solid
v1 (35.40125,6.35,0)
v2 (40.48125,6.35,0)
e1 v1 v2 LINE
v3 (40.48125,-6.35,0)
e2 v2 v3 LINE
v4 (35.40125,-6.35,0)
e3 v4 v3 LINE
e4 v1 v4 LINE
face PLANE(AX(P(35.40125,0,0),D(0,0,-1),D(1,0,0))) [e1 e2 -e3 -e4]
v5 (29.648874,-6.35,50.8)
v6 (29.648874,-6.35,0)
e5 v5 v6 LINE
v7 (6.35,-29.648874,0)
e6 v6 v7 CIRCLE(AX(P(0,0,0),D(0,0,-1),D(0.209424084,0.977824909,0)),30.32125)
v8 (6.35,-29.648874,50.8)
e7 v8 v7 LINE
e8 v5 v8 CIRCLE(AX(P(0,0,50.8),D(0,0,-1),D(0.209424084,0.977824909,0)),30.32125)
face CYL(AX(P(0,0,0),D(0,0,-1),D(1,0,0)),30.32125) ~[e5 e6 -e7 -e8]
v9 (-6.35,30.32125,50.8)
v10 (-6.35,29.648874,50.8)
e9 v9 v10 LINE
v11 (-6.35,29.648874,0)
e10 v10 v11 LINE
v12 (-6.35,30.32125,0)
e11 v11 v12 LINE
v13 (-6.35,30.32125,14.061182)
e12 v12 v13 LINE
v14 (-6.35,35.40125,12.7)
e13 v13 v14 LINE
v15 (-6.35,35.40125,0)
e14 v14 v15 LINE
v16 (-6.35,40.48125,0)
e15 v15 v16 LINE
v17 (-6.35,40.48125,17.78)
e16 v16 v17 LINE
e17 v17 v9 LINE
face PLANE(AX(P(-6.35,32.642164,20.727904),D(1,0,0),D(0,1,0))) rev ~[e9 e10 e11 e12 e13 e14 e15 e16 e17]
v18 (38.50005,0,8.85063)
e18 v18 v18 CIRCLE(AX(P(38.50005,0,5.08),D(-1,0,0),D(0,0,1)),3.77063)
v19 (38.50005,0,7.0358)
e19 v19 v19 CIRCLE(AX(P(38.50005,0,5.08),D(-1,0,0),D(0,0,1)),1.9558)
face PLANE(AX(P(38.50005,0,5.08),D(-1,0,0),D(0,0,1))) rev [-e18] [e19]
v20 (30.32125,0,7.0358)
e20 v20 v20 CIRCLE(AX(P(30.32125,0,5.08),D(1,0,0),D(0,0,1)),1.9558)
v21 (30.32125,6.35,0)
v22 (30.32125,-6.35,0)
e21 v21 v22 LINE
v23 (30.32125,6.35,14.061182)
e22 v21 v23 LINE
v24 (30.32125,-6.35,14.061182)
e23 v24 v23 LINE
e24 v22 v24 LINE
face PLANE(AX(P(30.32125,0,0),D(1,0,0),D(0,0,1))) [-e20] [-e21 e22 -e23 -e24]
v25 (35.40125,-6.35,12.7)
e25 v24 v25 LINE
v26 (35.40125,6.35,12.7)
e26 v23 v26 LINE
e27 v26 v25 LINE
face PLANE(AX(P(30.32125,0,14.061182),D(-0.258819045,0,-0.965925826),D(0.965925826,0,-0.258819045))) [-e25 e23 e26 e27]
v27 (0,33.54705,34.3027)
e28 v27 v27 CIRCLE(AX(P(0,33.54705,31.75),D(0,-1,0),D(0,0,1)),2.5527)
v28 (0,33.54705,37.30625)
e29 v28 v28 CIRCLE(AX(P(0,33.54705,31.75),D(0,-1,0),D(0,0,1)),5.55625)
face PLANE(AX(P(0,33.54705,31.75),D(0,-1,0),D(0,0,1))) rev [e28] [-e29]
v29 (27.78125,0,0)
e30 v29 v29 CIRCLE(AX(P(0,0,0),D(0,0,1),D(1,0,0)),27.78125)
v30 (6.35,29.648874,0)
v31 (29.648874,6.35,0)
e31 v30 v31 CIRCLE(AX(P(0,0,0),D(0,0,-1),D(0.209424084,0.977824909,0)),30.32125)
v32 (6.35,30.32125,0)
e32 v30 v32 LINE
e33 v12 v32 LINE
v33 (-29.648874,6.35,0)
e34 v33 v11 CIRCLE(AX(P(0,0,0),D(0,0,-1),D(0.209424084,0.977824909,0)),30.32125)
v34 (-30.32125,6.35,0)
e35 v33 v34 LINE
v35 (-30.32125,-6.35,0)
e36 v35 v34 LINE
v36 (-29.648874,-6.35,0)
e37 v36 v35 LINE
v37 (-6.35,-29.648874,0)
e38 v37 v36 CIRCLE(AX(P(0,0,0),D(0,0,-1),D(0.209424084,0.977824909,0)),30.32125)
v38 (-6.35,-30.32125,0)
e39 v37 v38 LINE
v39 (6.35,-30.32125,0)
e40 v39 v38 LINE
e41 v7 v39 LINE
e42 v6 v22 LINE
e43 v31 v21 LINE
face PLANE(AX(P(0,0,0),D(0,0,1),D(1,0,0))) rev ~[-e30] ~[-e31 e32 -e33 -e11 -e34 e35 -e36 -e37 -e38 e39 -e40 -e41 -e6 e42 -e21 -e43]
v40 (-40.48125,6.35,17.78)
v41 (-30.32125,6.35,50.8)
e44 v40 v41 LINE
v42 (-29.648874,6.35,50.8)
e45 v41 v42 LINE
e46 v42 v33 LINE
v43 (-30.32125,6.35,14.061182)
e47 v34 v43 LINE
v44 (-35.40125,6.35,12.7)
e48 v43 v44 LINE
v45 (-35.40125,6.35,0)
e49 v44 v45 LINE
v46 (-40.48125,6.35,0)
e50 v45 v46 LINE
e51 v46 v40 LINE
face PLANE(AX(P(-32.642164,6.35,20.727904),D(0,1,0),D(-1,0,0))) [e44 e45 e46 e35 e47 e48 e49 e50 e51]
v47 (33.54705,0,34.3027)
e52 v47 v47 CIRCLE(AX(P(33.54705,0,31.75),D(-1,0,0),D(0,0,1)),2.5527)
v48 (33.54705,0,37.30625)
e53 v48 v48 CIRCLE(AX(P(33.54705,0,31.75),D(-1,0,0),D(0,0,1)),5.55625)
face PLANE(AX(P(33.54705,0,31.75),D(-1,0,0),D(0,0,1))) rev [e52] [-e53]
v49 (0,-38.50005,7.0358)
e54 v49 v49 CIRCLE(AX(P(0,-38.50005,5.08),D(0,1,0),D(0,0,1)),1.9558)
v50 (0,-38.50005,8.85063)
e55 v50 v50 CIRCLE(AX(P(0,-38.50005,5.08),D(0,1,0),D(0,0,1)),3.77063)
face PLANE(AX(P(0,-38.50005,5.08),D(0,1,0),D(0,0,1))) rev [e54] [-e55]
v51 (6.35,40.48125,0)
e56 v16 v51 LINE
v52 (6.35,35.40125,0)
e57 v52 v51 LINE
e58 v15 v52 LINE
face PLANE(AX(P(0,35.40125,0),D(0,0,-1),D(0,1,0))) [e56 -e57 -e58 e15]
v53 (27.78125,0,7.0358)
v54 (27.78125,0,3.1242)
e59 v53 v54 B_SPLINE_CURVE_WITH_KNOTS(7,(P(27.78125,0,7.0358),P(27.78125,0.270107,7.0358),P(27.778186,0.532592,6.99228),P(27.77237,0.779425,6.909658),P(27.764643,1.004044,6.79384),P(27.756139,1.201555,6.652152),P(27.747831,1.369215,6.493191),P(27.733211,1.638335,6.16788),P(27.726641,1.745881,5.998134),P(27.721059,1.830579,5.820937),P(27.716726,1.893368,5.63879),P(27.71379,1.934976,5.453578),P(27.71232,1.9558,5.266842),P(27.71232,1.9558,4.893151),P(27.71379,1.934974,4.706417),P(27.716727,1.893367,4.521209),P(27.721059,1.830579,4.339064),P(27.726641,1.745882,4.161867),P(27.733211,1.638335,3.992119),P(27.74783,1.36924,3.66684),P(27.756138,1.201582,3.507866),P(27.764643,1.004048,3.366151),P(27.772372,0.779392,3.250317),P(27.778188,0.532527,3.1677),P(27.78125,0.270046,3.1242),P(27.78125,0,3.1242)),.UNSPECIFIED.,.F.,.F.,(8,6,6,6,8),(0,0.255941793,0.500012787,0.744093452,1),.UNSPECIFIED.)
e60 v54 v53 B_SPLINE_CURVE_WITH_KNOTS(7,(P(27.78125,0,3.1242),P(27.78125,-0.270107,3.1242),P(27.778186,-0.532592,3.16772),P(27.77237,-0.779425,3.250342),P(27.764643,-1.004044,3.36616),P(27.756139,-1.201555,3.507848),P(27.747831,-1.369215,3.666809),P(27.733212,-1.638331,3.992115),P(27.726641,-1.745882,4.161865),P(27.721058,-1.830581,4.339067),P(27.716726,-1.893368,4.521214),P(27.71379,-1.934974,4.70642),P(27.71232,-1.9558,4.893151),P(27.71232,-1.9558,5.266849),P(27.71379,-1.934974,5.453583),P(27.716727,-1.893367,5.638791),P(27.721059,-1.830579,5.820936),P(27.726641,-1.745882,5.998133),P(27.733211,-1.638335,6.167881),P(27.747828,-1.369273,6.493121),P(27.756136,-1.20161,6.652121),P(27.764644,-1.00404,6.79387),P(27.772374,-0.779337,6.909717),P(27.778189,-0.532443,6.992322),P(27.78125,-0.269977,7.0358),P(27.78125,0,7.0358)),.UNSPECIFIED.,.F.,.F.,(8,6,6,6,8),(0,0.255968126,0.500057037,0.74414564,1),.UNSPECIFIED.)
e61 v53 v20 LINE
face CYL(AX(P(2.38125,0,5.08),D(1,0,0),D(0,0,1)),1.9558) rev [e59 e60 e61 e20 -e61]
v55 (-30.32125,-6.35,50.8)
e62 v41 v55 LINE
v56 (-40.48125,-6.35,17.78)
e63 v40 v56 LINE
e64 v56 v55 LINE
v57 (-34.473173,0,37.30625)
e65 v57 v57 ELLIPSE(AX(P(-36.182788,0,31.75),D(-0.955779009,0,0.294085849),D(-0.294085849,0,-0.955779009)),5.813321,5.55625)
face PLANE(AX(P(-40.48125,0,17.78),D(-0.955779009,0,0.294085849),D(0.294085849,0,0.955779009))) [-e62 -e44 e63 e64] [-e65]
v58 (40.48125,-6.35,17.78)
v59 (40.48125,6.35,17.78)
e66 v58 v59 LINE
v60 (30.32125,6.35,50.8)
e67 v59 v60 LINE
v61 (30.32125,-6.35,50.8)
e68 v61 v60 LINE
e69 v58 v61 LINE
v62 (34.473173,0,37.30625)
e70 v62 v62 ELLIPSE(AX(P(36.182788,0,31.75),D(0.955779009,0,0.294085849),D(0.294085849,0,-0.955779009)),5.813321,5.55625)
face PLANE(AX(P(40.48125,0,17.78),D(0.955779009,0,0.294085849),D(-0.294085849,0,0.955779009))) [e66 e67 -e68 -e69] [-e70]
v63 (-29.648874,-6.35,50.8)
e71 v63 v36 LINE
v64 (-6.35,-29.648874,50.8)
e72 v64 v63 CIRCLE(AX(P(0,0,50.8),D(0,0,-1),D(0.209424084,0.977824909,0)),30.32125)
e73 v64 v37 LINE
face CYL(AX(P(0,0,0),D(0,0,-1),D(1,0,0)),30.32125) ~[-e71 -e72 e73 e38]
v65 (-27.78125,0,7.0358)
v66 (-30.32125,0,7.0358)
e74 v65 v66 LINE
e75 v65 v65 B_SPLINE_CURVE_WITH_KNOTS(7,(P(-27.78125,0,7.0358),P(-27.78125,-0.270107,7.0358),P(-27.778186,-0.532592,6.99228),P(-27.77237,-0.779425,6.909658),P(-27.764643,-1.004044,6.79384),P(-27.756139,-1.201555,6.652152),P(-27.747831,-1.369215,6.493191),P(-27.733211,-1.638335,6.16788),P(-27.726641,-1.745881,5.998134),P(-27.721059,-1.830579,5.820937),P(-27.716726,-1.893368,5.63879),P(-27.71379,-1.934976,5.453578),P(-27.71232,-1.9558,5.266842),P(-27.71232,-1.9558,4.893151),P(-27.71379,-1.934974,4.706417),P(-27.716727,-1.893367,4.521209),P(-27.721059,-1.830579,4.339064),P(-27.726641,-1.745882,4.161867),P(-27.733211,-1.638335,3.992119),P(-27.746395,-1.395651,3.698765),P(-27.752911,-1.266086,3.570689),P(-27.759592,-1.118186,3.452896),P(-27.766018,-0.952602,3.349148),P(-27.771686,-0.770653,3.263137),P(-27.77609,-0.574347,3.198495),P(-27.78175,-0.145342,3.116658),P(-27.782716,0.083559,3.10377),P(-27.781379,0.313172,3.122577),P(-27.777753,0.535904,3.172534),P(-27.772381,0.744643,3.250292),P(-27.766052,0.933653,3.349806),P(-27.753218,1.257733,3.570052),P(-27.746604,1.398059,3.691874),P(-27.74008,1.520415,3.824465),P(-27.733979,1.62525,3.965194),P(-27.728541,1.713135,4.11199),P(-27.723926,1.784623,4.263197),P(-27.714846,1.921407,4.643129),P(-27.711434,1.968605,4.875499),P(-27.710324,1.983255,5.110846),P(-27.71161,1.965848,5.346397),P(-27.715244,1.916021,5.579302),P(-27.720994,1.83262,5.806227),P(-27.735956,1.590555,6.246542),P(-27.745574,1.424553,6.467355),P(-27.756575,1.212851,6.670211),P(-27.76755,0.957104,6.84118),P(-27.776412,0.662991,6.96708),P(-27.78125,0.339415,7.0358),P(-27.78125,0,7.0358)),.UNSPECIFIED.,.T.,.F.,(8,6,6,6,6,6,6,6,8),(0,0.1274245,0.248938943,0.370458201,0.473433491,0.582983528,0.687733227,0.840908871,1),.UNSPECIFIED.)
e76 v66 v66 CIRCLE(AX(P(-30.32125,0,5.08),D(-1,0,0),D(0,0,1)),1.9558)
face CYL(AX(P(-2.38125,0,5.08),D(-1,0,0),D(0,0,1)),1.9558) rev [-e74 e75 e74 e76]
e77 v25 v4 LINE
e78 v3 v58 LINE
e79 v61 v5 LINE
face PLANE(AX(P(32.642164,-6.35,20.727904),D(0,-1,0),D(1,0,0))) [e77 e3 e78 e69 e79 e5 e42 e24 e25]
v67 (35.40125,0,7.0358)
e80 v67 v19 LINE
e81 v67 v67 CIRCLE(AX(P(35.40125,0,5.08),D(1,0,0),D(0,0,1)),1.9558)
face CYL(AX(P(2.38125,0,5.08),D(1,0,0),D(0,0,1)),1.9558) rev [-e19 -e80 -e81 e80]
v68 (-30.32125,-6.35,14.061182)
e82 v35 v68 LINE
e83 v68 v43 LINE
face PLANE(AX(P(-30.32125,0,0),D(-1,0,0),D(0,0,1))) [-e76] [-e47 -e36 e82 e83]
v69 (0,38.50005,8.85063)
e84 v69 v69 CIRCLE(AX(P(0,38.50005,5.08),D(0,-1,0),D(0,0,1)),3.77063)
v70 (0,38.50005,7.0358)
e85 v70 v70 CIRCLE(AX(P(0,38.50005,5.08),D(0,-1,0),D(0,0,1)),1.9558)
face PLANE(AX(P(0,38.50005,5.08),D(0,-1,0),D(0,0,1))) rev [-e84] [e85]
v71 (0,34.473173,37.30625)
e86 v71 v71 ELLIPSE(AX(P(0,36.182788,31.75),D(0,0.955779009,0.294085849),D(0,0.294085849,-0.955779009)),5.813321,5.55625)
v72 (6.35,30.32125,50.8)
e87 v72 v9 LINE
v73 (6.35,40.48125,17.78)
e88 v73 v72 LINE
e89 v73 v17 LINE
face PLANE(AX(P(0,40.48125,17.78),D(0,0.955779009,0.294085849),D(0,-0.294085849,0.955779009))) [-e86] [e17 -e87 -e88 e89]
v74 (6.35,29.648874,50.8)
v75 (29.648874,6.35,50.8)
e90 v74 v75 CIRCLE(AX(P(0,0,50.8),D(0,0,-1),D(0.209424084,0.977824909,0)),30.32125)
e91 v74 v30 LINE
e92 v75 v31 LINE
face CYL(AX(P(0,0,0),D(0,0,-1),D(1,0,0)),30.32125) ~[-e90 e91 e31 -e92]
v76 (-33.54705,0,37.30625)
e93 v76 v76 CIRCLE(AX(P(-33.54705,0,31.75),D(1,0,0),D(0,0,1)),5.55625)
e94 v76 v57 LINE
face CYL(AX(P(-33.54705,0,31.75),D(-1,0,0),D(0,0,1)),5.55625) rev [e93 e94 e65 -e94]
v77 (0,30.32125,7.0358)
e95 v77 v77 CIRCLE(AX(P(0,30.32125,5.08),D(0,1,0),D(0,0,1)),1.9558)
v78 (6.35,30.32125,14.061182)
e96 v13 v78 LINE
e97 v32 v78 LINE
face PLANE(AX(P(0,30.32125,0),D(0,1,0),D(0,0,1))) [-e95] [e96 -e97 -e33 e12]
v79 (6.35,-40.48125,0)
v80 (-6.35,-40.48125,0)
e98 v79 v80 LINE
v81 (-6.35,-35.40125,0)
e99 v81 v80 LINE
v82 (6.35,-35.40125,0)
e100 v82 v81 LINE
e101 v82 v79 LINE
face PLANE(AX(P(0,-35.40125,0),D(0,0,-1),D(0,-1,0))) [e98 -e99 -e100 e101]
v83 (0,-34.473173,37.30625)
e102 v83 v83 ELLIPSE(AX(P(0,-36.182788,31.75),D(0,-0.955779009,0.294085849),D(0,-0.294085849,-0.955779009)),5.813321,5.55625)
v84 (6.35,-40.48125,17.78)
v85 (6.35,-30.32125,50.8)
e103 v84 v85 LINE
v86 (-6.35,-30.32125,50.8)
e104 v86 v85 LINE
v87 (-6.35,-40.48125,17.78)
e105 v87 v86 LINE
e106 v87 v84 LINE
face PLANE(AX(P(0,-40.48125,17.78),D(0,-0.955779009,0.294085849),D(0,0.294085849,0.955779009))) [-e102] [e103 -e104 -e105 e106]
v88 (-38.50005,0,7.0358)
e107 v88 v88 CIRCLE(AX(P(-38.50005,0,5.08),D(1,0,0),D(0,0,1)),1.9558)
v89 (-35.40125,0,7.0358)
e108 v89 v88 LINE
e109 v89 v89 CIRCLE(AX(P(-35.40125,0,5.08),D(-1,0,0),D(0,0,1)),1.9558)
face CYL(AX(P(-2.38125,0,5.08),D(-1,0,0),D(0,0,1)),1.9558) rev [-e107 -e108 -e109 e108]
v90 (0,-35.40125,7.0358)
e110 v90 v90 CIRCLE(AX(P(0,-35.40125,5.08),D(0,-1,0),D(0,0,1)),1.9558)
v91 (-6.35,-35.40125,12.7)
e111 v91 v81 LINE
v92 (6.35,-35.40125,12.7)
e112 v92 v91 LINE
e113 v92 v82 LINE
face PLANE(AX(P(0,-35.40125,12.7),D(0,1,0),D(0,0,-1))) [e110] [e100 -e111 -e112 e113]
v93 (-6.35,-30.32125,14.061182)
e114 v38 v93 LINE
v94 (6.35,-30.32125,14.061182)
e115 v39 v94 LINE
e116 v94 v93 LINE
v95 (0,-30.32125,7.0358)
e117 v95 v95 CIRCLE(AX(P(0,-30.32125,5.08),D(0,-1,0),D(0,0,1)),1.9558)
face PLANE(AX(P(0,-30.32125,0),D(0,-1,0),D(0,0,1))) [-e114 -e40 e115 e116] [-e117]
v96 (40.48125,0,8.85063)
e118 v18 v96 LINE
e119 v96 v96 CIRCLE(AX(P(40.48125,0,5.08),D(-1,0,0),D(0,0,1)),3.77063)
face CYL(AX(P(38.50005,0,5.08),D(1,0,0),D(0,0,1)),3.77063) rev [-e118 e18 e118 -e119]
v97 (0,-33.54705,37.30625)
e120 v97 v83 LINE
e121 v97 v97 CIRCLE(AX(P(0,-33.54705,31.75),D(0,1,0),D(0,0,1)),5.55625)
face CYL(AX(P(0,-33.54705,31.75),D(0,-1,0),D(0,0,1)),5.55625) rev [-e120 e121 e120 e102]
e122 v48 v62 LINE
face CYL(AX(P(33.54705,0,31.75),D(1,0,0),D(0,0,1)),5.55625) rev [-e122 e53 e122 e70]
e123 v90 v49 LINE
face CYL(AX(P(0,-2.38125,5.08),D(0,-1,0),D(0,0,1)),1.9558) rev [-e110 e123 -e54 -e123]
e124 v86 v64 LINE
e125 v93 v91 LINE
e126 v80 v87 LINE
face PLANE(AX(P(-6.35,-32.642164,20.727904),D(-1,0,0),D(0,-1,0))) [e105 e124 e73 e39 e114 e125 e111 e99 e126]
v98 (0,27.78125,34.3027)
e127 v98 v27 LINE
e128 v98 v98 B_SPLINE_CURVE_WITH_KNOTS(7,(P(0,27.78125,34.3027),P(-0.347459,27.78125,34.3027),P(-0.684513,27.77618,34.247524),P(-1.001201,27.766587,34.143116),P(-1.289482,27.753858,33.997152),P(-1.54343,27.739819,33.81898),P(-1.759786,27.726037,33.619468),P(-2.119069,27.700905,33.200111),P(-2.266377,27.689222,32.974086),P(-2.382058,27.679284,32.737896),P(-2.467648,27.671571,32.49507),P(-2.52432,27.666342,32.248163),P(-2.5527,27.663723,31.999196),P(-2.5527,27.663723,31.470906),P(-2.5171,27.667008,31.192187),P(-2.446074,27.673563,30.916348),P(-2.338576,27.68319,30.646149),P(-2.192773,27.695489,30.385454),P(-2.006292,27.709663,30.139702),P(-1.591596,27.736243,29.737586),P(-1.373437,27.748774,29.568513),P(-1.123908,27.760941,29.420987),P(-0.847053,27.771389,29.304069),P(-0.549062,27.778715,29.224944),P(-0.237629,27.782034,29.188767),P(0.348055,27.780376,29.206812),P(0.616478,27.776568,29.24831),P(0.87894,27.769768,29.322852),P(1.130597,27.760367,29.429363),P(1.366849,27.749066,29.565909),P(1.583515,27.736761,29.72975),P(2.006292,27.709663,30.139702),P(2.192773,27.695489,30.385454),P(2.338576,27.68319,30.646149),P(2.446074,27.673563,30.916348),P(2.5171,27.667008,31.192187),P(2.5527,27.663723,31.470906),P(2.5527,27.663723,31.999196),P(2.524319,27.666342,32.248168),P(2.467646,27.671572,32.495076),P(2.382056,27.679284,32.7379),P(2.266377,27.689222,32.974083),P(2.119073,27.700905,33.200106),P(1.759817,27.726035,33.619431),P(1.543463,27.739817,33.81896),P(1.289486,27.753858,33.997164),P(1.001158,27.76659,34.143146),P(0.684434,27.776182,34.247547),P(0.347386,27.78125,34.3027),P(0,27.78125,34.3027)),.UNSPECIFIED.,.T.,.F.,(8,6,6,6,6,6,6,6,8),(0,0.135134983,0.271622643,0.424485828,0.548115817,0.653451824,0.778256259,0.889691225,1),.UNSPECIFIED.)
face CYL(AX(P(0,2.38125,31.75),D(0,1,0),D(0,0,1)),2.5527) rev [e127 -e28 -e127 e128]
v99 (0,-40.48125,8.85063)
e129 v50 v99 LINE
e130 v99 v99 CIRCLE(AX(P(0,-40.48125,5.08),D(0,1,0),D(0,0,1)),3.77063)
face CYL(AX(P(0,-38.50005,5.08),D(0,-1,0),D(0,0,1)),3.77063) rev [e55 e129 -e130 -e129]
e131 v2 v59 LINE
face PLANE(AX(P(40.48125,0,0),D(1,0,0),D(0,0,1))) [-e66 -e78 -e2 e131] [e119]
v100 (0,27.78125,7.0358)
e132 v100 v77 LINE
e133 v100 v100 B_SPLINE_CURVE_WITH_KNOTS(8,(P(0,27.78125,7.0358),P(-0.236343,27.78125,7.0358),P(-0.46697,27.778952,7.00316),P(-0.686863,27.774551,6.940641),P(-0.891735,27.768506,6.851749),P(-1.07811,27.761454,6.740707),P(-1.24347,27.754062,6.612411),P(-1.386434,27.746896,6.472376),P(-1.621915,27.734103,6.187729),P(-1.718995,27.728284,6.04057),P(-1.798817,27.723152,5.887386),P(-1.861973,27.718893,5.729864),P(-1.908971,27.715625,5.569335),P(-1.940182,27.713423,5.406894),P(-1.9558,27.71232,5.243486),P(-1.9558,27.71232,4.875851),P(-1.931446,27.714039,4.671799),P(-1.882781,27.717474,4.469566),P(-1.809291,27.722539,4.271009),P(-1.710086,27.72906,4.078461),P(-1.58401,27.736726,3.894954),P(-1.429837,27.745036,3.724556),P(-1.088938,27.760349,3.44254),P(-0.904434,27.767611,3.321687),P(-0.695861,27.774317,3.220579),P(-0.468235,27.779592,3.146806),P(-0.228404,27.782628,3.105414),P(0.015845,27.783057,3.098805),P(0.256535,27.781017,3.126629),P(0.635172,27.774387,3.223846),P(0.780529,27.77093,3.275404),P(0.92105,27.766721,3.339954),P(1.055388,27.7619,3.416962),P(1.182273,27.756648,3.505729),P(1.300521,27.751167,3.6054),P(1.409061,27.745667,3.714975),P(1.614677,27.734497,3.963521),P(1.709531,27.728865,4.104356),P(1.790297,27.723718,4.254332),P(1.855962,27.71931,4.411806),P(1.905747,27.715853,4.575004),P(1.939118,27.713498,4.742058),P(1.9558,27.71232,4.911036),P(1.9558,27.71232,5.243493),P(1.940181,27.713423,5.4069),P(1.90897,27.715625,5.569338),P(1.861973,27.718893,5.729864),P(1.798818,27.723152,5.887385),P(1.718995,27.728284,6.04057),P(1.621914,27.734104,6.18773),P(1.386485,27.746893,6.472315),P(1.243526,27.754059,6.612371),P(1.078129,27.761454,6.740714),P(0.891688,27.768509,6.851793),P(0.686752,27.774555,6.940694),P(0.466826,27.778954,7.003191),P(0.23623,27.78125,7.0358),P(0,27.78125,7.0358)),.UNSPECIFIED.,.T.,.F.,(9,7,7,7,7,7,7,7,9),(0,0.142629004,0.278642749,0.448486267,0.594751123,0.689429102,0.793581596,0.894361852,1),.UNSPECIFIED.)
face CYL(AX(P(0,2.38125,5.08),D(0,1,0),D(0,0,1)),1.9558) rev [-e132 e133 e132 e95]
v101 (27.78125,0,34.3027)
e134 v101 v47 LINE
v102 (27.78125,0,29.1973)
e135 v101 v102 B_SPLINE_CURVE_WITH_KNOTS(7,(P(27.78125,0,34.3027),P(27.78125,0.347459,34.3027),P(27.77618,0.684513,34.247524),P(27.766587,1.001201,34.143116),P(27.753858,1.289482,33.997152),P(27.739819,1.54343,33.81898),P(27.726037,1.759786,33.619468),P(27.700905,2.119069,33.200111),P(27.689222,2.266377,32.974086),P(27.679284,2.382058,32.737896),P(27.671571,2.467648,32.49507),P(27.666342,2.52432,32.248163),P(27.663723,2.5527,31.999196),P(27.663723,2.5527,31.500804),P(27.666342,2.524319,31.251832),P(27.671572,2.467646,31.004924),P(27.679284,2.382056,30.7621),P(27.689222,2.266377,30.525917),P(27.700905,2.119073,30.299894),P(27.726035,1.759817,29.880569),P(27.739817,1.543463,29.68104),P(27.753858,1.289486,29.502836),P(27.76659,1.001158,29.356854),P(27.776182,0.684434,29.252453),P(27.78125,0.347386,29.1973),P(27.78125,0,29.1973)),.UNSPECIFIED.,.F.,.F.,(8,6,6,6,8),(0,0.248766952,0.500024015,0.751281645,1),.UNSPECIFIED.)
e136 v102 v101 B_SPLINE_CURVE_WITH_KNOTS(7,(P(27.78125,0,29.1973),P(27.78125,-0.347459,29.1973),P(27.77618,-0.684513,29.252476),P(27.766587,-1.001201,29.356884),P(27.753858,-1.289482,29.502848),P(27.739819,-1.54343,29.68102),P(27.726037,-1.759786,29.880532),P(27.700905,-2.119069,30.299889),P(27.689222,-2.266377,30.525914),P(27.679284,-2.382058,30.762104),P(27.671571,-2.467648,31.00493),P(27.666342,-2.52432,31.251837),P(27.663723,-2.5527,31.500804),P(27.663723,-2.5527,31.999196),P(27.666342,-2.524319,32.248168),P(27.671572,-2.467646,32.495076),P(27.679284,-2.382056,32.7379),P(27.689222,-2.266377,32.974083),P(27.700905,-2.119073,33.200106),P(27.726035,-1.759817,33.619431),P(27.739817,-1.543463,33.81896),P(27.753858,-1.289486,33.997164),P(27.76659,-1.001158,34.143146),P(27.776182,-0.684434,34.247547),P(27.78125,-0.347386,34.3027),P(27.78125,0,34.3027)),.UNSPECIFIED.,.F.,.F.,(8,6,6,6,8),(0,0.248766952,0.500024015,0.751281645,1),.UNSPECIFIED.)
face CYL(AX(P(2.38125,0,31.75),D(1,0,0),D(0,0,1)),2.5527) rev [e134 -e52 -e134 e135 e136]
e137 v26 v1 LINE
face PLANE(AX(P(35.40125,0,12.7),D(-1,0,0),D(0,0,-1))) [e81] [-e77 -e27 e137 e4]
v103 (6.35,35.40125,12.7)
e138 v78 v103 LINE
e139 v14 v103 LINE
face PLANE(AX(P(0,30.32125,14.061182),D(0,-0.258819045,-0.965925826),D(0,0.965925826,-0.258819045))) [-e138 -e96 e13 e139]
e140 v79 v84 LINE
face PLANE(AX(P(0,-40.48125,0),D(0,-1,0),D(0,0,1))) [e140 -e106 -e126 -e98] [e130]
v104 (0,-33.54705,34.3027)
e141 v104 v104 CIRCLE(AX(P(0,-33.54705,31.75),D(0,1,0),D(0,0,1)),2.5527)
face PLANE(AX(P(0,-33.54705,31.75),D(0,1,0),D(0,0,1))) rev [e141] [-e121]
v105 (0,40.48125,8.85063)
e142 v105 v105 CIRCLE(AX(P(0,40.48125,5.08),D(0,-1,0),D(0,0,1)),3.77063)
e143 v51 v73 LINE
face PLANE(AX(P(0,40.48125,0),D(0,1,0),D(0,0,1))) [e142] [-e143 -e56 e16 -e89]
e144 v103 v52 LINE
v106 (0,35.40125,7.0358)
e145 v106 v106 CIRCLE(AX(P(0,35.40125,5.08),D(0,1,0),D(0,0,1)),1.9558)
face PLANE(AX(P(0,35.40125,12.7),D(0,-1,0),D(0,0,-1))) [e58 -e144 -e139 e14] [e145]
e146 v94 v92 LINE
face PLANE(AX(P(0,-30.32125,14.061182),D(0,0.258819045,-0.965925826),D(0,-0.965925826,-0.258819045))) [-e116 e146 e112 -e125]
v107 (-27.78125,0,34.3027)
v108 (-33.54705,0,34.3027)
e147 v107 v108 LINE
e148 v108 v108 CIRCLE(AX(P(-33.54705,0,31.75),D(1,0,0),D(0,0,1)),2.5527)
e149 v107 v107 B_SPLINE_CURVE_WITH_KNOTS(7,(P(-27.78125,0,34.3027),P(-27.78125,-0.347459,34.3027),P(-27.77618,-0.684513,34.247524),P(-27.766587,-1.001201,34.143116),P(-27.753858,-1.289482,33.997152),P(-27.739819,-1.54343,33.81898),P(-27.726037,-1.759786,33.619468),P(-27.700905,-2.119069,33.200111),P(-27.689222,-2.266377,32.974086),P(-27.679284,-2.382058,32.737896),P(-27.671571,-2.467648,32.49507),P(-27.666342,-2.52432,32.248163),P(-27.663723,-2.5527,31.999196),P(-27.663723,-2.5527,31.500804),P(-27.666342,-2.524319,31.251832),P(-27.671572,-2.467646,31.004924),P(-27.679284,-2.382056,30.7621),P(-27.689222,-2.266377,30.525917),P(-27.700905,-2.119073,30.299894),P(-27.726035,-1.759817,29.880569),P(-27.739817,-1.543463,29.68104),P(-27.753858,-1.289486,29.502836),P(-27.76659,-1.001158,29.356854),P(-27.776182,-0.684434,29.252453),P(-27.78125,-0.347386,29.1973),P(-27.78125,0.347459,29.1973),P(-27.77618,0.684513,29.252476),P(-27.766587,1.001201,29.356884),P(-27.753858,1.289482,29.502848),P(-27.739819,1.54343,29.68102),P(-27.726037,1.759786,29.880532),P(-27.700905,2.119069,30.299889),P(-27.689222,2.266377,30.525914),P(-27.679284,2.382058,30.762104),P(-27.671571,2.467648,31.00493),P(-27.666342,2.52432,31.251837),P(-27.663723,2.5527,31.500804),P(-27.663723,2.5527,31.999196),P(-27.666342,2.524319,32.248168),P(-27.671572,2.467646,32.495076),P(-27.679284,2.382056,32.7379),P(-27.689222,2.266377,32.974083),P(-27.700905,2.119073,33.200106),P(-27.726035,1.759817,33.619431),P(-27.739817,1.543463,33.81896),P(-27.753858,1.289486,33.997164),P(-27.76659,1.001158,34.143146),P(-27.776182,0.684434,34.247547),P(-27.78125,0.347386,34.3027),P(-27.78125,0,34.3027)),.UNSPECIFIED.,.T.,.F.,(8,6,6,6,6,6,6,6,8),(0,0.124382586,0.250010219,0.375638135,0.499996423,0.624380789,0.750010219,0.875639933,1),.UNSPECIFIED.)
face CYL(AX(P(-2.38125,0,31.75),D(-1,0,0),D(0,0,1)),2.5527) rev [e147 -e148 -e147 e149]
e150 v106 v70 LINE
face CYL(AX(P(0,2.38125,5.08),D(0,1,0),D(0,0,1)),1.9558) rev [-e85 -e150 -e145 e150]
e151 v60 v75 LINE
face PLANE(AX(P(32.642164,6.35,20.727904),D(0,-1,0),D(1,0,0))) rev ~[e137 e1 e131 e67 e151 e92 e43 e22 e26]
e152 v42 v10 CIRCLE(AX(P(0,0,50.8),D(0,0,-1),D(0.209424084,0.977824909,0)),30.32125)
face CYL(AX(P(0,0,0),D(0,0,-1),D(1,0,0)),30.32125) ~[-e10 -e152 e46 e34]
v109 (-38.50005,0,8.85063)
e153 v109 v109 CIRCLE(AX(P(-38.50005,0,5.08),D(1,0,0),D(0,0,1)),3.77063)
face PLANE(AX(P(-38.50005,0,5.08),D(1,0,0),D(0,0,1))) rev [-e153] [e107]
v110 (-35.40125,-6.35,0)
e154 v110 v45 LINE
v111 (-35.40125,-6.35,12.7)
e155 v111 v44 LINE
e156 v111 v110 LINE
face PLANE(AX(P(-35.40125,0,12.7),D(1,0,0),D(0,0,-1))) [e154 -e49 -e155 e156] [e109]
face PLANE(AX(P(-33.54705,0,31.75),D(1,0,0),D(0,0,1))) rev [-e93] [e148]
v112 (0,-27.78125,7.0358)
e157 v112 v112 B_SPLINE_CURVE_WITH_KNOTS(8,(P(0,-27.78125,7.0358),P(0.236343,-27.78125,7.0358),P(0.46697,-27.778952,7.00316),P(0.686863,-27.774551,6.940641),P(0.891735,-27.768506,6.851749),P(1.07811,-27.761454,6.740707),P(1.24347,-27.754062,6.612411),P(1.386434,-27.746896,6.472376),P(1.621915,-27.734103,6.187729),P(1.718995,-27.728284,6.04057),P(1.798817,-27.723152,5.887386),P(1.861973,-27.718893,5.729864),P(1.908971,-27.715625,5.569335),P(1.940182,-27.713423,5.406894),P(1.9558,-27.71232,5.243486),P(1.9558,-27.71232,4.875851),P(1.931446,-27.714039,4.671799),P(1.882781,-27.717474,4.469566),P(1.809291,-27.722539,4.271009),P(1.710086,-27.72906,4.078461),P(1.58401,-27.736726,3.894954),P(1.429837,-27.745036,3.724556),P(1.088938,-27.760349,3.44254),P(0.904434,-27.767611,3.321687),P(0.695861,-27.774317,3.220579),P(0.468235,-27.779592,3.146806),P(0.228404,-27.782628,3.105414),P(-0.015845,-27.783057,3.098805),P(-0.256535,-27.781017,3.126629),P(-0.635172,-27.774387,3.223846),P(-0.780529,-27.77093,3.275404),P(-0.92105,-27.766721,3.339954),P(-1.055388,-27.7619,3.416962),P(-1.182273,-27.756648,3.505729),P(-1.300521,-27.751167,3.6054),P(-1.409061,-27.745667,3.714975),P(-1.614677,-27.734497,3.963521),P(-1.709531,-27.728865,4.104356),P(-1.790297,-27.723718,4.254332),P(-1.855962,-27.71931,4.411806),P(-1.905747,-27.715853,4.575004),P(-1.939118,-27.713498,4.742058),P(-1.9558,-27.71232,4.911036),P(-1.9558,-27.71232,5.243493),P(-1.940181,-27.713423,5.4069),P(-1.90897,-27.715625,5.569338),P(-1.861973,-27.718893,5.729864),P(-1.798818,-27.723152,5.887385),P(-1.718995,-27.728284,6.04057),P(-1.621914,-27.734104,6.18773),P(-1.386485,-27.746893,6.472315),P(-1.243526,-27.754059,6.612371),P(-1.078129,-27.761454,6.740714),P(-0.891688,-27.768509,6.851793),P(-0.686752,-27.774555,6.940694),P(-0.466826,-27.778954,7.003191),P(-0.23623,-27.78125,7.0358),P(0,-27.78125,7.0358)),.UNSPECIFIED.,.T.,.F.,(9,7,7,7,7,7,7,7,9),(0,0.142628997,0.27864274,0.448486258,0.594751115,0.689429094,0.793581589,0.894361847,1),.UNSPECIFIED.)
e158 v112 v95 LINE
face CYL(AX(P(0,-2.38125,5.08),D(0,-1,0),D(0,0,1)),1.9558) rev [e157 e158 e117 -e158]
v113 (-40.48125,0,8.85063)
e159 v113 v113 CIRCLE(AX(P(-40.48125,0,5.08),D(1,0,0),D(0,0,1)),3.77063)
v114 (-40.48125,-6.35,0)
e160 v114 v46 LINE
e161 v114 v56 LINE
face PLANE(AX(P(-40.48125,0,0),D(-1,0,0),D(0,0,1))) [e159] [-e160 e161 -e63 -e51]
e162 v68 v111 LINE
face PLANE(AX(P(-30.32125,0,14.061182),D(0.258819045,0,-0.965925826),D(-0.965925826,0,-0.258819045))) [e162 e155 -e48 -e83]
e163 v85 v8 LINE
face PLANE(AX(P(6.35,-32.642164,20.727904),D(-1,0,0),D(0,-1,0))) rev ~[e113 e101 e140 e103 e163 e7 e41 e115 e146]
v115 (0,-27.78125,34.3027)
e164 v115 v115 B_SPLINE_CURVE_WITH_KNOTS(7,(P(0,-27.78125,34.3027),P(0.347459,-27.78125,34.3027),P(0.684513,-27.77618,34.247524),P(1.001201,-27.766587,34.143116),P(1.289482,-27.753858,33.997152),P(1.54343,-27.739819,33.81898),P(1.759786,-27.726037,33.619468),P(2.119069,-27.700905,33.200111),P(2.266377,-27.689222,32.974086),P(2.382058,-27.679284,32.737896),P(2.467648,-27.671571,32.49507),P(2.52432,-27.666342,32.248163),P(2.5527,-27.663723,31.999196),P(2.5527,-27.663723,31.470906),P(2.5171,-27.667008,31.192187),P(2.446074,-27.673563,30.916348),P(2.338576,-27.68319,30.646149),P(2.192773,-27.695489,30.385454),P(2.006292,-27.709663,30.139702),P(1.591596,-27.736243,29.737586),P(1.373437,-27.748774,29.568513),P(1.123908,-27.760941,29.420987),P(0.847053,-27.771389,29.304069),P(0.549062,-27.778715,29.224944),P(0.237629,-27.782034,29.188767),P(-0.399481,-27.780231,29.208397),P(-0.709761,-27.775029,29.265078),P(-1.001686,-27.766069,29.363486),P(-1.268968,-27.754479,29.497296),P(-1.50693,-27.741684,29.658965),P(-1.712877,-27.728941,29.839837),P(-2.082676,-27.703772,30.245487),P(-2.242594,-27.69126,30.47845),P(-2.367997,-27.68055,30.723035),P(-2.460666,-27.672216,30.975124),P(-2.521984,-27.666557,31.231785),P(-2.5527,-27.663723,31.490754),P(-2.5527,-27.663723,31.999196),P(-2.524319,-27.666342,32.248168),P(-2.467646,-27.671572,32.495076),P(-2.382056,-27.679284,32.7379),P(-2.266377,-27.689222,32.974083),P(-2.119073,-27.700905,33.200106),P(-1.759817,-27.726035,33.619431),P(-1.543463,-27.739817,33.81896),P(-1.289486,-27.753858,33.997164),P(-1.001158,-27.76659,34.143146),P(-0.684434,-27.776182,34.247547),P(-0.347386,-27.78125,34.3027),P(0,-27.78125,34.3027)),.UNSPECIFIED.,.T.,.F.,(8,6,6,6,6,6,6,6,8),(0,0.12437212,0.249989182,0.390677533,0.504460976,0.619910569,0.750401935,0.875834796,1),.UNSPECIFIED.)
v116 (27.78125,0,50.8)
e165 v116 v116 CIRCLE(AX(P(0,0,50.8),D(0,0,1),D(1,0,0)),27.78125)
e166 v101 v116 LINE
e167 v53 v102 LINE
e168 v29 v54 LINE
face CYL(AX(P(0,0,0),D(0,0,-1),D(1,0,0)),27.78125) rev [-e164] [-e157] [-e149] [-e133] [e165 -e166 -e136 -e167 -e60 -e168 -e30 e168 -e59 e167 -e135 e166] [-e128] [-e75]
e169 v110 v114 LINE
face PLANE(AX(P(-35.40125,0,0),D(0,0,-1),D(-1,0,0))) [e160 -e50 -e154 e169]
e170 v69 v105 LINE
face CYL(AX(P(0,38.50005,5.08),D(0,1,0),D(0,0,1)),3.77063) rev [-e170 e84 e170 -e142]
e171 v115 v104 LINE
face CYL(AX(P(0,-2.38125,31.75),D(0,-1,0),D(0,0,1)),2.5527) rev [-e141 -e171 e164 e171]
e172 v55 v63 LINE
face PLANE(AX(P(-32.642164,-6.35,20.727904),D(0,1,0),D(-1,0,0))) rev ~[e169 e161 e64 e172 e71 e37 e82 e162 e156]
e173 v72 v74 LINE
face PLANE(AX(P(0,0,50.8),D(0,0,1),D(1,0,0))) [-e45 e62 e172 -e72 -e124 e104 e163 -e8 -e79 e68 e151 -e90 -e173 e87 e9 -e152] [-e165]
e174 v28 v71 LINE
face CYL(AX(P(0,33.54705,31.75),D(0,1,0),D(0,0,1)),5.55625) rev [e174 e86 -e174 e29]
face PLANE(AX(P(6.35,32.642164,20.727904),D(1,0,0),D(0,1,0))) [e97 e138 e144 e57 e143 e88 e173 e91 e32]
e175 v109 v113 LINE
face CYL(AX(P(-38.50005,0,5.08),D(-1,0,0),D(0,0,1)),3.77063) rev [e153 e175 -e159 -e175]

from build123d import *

# Parameters (mm, degrees)
SKETCH3_R         = 30.32125
SKETCH3_R_2       = 27.78125
BASE_RING_DEPTH   = 50.8
HOOK_DEPTH        = 6.35
CIRPATTERN1_COUNT = 4


with BuildPart() as part:
    # Sketch3 → base_ring (new body)
    with BuildSketch(Plane(origin=(0, 0, 0), x_dir=(0, 1, 0), z_dir=(0, 0, 1))):
        with Locations(Location((0, 0, 0), (0, 0, 270))):
            Circle(SKETCH3_R)
        with Locations(Location((0, 0, 0), (0, 0, 270))):
            Circle(SKETCH3_R_2, mode=Mode.SUBTRACT)
    extrude(amount=BASE_RING_DEPTH)

    # Sketch6 → hook (add, symmetric)
    with BuildSketch(Plane.YZ):
        Polygon((27.78125, 50.8), (27.78125, 0), (30.32125, 0), (30.32125, 14.061181898), (35.40125, 12.7), (35.40125, 0), (40.48125, 0), (40.48125, 17.78), (30.32125, 50.8), align=None)
    hook = extrude(amount=HOOK_DEPTH, both=True)

    # Sketch8 → CBORE for #5 Binding Head Machine Screw1 (revolve, cut)
    with BuildSketch(Plane(origin=(0, 40.48125, 5.08), x_dir=(0, 0, 1), z_dir=(1, 0, 0))):
        Polygon((0, 0), (0, 39.275163199), (1.9558, 38.1), (1.9558, 1.9812), (3.77063, 1.9812), (3.77063, 0), align=None)
    cbore_for_5_binding_head_machine_screw1 = revolve(axis=Axis((0, 46.83125, 5.08), (0, -1, 0)), mode=Mode.SUBTRACT)

    # Sketch10 → CBORE for #10 Binding Head Machine Screw2 (revolve, cut)
    with BuildSketch(Plane(origin=(0, 40.48125, 31.75), x_dir=(0, 0, 1), z_dir=(1, 0, 0))):
        Polygon((0, 0), (0, 39.633816902), (2.5527, 38.1), (2.5527, 6.9342), (5.55625, 6.9342), (5.55625, 0), align=None)
    cbore_for_10_binding_head_machine_screw = revolve(axis=Axis((0, 46.83125, 31.75), (0, -1, 0)), mode=Mode.SUBTRACT)

    # CirPattern1: hook, CBORE for #5 Binding Head Machine Screw1, CBORE for #10 Binding Head Machine Screw2 ×4 about axis
    cirpattern1_axis = Axis((0, 0, 0), (0, 0, 1))
    add([hook.rotate(cirpattern1_axis, i * 360 / CIRPATTERN1_COUNT) for i in range(1, CIRPATTERN1_COUNT)])
    add([cbore_for_5_binding_head_machine_screw1.rotate(cirpattern1_axis, i * 360 / CIRPATTERN1_COUNT) for i in range(1, CIRPATTERN1_COUNT)], mode=Mode.SUBTRACT)
    add([cbore_for_10_binding_head_machine_screw.rotate(cirpattern1_axis, i * 360 / CIRPATTERN1_COUNT) for i in range(1, CIRPATTERN1_COUNT)], mode=Mode.SUBTRACT)


solid = part.part
